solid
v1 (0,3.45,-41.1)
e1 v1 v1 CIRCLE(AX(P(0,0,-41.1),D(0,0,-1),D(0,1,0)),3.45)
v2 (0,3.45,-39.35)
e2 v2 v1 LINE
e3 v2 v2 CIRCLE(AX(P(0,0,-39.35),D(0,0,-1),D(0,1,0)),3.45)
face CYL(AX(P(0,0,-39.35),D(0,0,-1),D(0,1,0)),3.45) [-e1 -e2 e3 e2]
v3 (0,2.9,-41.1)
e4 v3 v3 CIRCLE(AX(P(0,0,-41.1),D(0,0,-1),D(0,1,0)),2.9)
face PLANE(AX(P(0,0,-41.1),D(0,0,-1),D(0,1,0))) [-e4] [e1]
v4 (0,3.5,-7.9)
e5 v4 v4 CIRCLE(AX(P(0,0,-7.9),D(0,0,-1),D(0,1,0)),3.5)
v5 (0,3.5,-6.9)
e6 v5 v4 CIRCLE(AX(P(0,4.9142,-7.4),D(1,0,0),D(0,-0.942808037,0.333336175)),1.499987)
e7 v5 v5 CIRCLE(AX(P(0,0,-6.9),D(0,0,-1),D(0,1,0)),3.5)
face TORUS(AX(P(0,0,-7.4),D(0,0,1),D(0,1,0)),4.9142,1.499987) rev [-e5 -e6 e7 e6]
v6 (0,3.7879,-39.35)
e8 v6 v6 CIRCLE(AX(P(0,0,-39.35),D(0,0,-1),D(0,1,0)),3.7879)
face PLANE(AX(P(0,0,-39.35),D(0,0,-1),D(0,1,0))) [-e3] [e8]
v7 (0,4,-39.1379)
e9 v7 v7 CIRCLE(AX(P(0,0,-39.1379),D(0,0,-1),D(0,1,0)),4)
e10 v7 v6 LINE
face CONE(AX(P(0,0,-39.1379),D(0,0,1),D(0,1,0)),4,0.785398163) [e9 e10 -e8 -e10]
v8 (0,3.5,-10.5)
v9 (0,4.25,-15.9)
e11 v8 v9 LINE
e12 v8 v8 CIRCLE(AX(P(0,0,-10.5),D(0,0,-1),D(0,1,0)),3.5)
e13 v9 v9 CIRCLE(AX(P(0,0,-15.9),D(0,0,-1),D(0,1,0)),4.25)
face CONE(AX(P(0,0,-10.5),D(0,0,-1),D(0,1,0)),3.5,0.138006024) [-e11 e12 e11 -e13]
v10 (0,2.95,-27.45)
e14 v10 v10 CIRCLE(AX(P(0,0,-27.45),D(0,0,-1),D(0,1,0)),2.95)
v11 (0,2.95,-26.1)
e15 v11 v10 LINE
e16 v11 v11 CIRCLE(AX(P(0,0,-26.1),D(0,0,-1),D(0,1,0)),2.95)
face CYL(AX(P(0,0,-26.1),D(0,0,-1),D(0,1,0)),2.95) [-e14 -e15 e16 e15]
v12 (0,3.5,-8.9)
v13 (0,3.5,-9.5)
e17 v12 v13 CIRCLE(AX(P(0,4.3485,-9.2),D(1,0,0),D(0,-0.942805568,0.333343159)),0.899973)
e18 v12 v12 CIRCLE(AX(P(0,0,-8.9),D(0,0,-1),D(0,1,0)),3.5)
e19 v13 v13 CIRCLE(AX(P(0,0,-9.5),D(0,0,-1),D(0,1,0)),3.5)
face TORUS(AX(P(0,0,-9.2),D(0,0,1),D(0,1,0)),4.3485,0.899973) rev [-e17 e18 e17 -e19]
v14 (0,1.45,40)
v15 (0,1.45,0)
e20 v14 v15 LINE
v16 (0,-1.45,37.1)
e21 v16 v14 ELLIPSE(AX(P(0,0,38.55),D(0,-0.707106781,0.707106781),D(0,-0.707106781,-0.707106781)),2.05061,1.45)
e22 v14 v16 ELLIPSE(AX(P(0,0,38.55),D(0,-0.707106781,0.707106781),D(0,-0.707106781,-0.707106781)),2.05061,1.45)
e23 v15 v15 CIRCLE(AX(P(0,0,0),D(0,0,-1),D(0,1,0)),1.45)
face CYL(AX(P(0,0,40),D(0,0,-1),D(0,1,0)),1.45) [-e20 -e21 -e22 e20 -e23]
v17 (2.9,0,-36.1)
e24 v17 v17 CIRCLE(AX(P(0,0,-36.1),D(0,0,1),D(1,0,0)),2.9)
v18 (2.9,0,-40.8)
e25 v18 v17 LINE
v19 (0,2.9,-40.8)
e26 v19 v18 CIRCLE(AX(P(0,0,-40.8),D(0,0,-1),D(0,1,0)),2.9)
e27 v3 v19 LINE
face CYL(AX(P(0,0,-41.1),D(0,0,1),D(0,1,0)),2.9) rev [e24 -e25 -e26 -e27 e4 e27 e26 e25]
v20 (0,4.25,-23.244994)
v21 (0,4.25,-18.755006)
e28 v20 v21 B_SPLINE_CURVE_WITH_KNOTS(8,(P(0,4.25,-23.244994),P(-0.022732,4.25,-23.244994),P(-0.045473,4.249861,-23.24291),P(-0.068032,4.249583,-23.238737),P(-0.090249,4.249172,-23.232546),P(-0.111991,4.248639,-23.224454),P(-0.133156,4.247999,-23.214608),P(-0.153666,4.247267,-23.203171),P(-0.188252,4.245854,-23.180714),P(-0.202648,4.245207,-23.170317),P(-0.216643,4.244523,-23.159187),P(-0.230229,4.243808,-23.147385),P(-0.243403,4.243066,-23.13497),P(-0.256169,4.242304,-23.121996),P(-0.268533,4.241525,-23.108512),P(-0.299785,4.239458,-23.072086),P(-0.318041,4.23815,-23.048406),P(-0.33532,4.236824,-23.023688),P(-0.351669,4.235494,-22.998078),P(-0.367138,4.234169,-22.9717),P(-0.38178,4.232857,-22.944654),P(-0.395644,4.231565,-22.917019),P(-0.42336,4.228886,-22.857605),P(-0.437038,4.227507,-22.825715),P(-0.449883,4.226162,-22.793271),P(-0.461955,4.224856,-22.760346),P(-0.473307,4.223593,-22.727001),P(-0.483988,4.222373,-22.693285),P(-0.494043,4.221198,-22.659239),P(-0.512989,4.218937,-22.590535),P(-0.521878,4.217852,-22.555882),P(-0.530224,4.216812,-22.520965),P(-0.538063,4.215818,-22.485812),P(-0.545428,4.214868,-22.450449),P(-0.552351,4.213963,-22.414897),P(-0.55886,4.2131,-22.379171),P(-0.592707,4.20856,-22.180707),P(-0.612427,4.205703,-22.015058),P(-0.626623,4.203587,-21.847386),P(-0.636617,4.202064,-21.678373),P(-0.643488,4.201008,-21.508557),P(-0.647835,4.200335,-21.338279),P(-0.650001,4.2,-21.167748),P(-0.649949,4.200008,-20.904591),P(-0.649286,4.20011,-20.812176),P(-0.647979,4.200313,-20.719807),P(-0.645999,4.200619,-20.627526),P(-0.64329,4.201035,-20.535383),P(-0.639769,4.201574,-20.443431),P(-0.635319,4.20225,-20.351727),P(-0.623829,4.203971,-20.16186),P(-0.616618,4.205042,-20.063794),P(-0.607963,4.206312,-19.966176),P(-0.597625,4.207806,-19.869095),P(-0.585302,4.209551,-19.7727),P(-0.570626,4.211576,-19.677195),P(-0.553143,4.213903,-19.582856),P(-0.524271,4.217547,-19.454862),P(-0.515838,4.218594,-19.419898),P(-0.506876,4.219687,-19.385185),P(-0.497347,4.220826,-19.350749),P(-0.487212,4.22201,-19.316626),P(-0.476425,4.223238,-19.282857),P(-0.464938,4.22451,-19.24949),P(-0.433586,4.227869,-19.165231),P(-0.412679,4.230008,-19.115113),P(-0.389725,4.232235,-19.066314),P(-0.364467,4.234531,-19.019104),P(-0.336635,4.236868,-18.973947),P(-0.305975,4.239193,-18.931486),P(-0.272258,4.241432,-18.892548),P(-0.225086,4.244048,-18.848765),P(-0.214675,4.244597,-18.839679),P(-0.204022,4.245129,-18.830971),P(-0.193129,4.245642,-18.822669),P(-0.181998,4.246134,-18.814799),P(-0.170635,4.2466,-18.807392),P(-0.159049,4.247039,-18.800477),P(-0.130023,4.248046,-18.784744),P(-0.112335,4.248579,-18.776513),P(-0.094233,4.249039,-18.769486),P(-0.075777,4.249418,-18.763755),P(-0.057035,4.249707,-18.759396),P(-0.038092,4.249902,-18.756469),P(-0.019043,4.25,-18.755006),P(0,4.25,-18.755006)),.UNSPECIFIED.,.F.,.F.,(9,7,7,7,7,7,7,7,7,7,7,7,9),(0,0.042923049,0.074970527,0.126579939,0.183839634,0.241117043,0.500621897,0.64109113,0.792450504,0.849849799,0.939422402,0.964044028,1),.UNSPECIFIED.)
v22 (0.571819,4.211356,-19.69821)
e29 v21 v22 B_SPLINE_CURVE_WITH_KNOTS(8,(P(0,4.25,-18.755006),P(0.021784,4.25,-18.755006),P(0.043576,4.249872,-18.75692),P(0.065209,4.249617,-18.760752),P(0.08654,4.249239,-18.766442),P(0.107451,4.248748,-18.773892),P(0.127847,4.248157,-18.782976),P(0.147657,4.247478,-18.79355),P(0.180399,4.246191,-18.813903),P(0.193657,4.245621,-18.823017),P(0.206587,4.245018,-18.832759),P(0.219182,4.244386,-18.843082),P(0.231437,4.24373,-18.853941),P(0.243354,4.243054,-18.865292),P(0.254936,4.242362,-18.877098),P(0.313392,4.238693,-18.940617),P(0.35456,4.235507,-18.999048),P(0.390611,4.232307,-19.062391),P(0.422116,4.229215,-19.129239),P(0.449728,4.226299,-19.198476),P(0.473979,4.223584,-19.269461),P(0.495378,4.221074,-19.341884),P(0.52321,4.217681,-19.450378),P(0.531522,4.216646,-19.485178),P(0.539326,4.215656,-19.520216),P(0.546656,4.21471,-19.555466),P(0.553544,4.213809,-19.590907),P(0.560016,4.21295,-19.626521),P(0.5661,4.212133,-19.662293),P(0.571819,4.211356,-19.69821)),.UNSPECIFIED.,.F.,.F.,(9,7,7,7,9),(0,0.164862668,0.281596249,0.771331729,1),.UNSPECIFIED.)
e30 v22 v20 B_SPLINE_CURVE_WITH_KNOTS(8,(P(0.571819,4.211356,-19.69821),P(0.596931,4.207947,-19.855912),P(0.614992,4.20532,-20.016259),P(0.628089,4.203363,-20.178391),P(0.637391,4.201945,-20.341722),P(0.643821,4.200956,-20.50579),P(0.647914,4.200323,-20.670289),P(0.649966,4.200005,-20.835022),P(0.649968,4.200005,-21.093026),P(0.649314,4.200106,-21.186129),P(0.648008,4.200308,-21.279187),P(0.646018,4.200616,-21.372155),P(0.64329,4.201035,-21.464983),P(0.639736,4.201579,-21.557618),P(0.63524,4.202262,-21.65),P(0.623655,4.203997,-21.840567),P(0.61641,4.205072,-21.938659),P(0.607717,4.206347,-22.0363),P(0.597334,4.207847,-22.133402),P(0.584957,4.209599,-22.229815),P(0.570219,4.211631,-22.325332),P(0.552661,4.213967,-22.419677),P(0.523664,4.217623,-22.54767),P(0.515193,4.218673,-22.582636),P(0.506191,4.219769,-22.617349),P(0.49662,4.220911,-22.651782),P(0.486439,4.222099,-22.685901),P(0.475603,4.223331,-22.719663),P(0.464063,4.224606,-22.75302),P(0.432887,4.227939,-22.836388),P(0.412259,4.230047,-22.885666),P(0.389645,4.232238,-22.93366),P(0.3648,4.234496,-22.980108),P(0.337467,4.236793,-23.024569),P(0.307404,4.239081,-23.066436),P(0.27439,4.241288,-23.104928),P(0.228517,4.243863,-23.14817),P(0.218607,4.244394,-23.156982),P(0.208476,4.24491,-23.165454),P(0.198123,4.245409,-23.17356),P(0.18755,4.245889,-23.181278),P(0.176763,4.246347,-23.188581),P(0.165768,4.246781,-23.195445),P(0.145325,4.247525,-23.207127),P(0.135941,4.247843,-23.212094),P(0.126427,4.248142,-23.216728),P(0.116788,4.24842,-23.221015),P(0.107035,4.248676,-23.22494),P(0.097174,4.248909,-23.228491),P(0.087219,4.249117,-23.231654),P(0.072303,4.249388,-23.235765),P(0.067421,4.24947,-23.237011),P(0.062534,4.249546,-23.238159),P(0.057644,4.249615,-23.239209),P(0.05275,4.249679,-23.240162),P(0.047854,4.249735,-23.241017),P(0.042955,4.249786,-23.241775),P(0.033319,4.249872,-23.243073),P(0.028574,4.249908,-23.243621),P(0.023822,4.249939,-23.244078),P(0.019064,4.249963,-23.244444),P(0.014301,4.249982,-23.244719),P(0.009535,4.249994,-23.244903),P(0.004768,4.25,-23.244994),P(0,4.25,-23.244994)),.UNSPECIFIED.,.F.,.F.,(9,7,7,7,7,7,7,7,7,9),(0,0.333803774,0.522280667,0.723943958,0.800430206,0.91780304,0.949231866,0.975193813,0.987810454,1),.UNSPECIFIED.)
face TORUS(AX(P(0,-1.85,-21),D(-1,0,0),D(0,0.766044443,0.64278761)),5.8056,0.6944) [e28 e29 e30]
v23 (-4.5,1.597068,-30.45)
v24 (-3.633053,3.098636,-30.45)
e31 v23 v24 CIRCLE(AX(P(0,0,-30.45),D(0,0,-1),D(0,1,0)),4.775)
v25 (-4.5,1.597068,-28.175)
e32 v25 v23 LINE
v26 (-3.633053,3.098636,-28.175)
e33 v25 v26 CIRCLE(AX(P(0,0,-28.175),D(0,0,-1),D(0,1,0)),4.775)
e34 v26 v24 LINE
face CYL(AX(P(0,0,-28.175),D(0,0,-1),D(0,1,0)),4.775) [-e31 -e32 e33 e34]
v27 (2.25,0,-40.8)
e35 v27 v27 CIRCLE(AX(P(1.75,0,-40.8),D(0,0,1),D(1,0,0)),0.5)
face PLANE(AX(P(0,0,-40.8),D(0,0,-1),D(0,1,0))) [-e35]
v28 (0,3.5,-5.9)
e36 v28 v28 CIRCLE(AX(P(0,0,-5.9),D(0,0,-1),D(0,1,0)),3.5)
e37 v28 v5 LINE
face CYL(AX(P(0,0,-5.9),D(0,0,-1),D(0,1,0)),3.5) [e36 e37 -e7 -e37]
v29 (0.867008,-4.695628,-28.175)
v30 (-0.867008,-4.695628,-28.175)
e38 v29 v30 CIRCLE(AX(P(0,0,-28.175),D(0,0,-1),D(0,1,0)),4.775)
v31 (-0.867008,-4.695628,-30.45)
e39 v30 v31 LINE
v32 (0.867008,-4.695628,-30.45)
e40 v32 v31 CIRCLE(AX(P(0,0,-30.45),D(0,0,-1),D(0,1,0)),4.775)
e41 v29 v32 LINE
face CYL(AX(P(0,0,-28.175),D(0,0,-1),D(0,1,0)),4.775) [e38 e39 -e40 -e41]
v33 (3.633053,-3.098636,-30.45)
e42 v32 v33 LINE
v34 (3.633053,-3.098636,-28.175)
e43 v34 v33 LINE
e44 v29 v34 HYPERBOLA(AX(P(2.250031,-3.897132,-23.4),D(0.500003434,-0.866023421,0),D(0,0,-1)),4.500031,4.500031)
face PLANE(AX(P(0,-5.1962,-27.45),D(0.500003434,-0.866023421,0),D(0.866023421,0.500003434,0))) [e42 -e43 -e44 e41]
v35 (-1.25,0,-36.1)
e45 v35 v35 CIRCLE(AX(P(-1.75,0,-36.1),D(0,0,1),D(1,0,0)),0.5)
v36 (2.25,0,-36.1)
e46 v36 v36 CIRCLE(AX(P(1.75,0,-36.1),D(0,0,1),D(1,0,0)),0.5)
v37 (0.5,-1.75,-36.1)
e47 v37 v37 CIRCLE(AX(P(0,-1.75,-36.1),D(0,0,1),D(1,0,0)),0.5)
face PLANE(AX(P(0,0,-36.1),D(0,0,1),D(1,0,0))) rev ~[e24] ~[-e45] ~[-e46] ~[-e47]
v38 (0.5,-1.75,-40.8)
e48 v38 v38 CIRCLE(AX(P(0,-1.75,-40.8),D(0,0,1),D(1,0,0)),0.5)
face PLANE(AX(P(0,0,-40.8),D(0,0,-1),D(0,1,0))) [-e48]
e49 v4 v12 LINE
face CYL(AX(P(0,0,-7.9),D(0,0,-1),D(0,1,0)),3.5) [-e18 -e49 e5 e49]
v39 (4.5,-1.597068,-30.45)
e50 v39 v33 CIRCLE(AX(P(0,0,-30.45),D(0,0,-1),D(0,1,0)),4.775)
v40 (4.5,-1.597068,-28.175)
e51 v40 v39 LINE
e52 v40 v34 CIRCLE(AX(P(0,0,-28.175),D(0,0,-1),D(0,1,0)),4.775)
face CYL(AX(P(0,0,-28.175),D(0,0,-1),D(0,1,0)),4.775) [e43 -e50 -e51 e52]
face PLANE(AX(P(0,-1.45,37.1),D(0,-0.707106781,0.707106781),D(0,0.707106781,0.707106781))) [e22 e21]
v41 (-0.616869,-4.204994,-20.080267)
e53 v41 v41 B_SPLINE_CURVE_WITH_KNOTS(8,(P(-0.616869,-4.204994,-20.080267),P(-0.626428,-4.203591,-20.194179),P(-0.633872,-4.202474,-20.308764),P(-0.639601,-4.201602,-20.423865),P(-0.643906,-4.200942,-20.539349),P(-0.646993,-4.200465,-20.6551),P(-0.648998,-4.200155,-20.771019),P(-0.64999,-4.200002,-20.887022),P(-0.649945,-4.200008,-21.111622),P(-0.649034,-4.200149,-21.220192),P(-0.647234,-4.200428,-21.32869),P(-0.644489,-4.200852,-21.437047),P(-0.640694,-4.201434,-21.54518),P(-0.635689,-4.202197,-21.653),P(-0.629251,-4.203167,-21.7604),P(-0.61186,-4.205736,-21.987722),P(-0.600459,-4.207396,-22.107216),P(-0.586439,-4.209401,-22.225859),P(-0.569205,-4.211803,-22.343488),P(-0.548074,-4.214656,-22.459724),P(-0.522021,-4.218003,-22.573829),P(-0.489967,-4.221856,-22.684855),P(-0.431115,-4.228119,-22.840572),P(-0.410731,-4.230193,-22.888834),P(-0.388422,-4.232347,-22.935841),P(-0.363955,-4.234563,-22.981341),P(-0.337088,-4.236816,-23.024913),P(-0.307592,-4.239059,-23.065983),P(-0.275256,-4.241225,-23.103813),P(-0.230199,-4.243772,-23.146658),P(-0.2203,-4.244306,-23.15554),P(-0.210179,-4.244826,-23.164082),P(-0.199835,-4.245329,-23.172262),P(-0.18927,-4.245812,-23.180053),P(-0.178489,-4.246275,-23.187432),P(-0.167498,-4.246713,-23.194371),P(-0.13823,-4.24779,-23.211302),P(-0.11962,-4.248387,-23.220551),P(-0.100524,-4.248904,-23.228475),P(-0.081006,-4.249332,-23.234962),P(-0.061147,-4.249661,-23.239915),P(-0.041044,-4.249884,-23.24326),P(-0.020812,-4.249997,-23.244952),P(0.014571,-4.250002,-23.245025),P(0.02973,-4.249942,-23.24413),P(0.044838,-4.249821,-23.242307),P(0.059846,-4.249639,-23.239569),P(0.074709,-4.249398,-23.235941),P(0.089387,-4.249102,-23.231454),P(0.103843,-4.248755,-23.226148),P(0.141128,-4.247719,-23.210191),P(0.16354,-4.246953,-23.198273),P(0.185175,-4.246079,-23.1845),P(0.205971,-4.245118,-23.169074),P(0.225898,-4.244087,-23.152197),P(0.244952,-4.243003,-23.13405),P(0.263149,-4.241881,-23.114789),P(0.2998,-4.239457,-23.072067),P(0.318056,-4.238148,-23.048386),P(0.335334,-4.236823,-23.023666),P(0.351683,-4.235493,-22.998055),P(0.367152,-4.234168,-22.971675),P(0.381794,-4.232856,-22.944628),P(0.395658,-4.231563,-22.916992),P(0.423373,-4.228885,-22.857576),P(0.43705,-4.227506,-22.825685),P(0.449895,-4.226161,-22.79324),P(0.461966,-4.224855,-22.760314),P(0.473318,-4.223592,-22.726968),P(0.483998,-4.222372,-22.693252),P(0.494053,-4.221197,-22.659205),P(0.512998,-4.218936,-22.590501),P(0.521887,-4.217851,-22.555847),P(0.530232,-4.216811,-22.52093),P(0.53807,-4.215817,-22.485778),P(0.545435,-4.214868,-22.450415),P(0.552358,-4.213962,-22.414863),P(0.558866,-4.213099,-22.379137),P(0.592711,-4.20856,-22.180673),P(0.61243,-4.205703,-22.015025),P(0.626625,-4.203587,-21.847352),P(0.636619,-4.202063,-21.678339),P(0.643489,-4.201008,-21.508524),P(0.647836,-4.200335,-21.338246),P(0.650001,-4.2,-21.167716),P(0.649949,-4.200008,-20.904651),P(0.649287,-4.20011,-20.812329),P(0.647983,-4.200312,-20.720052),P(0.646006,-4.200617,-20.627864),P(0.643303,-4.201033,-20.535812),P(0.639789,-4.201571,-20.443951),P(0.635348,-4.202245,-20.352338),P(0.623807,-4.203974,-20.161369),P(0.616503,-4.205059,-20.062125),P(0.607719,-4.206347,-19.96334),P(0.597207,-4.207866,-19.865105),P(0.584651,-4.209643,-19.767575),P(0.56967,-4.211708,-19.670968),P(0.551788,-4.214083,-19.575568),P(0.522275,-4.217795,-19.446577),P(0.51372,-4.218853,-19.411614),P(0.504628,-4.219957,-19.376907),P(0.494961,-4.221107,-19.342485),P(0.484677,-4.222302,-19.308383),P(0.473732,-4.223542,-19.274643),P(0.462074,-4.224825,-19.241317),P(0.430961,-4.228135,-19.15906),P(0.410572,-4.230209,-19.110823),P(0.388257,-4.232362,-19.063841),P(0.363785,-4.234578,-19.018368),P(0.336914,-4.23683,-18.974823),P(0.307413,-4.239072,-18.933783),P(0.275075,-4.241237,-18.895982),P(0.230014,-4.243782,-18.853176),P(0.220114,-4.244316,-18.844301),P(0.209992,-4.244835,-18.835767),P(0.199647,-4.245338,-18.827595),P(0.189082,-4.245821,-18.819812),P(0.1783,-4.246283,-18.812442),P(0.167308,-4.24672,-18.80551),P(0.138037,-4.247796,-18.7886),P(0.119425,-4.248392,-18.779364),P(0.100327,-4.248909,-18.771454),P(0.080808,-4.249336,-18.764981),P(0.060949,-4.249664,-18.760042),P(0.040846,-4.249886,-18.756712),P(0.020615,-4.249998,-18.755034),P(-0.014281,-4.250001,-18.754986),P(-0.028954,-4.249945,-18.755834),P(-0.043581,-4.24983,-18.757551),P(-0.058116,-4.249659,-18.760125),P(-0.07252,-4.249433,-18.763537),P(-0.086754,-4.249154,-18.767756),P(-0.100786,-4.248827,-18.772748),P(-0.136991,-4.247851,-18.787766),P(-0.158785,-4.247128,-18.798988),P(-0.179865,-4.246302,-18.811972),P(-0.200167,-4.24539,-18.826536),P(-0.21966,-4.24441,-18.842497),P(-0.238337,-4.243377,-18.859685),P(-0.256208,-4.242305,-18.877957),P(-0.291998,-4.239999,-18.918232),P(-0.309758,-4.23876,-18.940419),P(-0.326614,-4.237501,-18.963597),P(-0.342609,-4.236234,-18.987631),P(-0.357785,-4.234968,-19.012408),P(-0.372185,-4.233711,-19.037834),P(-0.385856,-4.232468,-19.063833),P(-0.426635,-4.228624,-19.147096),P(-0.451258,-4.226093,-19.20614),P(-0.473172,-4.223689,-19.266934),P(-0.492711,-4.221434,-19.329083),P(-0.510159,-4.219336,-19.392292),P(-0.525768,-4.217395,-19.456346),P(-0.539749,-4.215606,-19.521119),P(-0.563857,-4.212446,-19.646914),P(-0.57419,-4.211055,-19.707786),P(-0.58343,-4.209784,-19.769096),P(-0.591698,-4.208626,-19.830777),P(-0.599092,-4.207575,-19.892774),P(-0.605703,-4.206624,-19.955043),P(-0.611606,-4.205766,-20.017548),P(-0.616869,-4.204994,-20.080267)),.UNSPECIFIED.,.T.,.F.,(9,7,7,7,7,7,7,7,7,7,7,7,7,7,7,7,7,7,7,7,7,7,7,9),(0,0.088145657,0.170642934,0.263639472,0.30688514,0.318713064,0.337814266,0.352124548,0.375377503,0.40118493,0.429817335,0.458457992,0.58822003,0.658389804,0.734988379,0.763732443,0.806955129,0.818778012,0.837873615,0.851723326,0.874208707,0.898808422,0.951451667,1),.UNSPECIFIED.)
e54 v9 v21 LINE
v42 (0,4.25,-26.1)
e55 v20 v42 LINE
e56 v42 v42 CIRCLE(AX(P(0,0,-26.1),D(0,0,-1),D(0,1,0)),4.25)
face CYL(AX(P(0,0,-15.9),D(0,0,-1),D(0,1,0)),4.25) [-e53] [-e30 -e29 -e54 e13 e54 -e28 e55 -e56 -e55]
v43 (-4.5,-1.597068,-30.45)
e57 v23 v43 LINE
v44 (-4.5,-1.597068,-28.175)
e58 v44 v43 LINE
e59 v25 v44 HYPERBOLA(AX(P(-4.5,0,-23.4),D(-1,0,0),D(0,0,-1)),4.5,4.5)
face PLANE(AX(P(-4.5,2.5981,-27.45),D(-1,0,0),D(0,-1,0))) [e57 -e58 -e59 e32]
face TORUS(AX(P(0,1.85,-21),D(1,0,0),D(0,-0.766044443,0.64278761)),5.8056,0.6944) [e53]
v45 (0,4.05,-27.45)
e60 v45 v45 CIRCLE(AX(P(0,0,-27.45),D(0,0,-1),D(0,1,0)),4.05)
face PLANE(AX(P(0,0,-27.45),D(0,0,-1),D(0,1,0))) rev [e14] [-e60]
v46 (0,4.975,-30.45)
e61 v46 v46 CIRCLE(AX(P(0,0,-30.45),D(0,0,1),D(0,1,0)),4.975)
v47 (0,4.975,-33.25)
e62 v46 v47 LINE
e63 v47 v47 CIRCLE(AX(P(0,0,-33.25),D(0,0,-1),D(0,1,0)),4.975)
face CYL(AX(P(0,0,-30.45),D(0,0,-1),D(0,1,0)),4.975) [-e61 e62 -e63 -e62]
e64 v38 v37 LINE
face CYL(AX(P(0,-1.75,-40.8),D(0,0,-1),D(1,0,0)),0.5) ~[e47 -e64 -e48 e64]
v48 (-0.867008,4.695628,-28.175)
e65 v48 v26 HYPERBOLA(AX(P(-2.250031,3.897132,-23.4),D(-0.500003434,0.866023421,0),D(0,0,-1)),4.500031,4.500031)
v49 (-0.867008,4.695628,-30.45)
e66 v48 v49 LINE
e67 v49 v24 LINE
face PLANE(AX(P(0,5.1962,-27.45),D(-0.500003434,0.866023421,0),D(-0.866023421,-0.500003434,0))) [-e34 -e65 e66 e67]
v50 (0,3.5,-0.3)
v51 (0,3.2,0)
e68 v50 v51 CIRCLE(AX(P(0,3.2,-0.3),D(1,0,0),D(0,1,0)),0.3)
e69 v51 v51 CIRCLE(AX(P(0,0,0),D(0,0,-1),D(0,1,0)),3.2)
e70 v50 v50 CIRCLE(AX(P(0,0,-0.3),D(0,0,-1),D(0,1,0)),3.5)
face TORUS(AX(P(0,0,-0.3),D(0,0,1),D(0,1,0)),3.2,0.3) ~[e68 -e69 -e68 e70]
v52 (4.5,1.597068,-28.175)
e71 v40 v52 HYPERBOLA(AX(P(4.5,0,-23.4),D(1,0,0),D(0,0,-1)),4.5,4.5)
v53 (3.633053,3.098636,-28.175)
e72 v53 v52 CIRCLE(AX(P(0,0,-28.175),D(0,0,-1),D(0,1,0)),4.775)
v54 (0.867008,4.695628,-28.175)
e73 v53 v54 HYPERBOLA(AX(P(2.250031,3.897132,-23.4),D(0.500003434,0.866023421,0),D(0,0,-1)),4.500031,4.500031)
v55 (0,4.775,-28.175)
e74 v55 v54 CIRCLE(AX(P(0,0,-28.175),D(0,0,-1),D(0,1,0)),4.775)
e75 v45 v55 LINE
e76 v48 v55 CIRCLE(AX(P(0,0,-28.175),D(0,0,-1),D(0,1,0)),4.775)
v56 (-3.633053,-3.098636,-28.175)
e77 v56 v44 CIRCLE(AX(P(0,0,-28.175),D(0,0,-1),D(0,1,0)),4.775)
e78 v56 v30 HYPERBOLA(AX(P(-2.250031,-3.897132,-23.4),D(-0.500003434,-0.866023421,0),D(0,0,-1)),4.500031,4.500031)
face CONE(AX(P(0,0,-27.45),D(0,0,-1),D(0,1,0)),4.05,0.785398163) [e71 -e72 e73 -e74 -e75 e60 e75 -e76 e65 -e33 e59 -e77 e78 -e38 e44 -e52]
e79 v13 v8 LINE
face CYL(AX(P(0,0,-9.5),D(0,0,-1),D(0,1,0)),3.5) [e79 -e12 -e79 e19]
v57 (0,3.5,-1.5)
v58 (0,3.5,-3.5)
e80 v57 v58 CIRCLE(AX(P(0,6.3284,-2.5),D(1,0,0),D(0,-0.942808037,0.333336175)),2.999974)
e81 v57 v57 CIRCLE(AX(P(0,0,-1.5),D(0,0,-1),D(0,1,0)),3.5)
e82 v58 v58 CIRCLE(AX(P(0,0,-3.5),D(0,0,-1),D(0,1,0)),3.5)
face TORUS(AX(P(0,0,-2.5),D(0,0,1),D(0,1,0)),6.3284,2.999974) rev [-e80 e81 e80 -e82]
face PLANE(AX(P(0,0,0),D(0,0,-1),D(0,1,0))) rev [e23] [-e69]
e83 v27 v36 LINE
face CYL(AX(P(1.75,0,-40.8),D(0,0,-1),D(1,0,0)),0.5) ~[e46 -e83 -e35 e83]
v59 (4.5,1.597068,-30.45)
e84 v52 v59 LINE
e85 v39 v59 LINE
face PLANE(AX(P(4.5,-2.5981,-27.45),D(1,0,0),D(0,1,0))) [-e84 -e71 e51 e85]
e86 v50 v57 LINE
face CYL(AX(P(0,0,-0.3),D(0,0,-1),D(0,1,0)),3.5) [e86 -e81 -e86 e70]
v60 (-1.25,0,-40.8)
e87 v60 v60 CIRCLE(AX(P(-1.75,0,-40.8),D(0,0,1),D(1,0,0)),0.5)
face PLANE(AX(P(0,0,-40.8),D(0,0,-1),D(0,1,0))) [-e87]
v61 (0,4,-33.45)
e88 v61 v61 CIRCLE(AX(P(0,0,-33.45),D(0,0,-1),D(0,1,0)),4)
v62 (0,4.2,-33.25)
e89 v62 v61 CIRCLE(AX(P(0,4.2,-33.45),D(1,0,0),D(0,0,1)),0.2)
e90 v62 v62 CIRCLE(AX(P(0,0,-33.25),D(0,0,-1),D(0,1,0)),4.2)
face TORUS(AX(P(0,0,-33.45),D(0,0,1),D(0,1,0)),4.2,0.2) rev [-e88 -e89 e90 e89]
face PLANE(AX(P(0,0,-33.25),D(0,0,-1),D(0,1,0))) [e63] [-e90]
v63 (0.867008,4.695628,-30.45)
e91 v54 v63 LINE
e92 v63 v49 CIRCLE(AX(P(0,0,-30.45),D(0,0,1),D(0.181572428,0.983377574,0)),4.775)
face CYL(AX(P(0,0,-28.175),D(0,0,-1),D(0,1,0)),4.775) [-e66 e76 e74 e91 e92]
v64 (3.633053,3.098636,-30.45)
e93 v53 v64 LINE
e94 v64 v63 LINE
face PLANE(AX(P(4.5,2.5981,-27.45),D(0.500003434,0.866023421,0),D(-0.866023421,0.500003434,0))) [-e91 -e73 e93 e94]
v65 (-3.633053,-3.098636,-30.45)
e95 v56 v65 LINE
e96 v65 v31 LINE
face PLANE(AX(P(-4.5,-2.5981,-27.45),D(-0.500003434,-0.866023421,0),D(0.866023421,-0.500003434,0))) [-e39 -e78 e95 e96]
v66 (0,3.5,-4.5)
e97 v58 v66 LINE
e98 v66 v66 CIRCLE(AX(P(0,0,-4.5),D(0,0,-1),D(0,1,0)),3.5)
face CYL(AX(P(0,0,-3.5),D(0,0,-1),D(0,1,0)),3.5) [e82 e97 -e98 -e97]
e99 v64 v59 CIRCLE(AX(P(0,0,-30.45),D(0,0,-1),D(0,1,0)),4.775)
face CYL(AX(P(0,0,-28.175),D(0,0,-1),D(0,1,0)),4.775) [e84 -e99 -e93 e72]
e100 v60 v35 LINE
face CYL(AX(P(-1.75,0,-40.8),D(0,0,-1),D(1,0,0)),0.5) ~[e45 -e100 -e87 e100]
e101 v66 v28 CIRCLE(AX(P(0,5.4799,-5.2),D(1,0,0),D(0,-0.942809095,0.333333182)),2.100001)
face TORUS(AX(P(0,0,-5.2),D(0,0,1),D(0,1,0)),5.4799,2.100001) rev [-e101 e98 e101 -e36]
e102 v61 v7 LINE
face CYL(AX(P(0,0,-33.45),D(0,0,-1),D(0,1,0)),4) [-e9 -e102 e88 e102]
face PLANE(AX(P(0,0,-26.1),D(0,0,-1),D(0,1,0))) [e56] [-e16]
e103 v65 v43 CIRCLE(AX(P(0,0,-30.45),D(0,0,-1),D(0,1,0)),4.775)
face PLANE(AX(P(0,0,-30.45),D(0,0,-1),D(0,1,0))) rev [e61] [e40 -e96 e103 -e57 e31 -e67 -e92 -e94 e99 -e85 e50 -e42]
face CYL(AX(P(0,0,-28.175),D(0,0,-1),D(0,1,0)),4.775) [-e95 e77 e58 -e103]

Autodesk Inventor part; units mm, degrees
sketch "Sketch_14" plane through (0, 0, 0) normal (1, 0, 0) x (0, 1, 0)
  line L0 (0, -26.1) -> (0, 0)
  line L1 (0, 0) -> (3.2, 0)
  arc A0 (3.5, -0.3) -> (3.2, 0) centre (3.2, -0.3) ccw
  line L2 (3.5, -0.3) -> (3.5, -1.5)
  arc A1 (3.5, -1.5) -> (3.5, -3.5) centre (6.3284, -2.5) ccw
  line L3 (3.5, -3.5) -> (3.5, -4.5)
  arc A2 (3.5, -4.5) -> (3.5, -5.9) centre (5.4799, -5.2) ccw
  line L4 (3.5, -5.9) -> (3.5, -6.9)
  arc A3 (3.5, -6.9) -> (3.5, -7.9) centre (4.9142, -7.4) ccw
  line L5 (3.5, -7.9) -> (3.5, -8.9)
  arc A4 (3.5, -8.9) -> (3.5, -9.5) centre (4.3485, -9.2) ccw
  line L6 (3.5, -9.5) -> (3.5, -10.5)
  line L7 (3.5, -10.5) -> (4.25, -15.9)
  line L8 (4.25, -15.9) -> (4.25, -26.1)
  line L9 (4.25, -26.1) -> (0, -26.1)
  line L10 (0, -26.1) -> (0, 0)
revolve "Revolution1" add sketch "Sketch_14" angle 360 about axis through (0, 0, -26.1) along (0, 0, -1)
sketch "Sketch_13" plane through (0, 0, -21) normal (0, 0, 1) x (1, 0, 0)
  line L0 (5, -1.85) -> (-5, -1.85)
  circle A0 centre (0, 3.9556) radius 0.6944
revolve "Revolution2" add sketch "Sketch_13" angle 80 mid plane about axis through (5, -1.85, -21) along (-1, 0, 0)
sketch "Sketch_15" plane through (0, 0, -21) normal (0, 0, 1) x (1, 0, 0)
  line L0 (-5, 1.85) -> (5, 1.85)
  circle A0 centre (0, -3.9556) radius 0.6944
revolve "Revolution3" add sketch "Sketch_15" angle 80 mid plane about axis through (-5, 1.85, -21) along (1, 0, 0)
sketch "Sketch_7" plane through (0, 0, 0) normal (1, 0, 0) x (0, 1, 0)
  line L0 (0, -41.1) -> (0, -26.1)
  line L1 (0, -26.1) -> (2.95, -26.1)
  line L2 (2.95, -26.1) -> (2.95, -28.6)
  line L3 (2.95, -28.6) -> (3.15, -28.6)
  line L4 (3.15, -28.6) -> (3.15, -39.35)
  line L5 (3.15, -39.35) -> (3.45, -39.35)
  line L6 (3.45, -39.35) -> (3.45, -41.1)
  line L7 (3.45, -41.1) -> (2.9, -41.1)
  line L8 (2.9, -41.1) -> (2.9, -40.8)
  line L9 (2.9, -40.8) -> (0, -40.8)
  line L10 (0, -40.8) -> (0, -26.1)
revolve "Revolution4" add sketch "Sketch_7" angle 360 about axis through (0, 0, -41.1) along (0, 0, -1)
sketch "Sketch_8" plane through (0, 0, 0) normal (1, 0, 0) x (0, 1, 0)
  line L0 (0, -39.35) -> (0, -27.45)
  line L1 (0, -27.45) -> (4.05, -27.45)
  line L2 (4.05, -27.45) -> (4.775, -28.175)
  line L3 (4.775, -28.175) -> (4.775, -30.45)
  line L4 (4.775, -30.45) -> (4.975, -30.45)
  line L5 (4.975, -30.45) -> (4.975, -33.25)
  line L6 (4.975, -33.25) -> (4.2, -33.25)
  arc A0 (4.2, -33.25) -> (4, -33.45) centre (4.2, -33.45) ccw
  line L7 (4, -33.45) -> (4, -39.1379)
  line L8 (4, -39.1379) -> (3.7879, -39.35)
  line L9 (3.7879, -39.35) -> (0, -39.35)
  line L10 (0, -39.35) -> (0, -27.45)
revolve "Revolution5" add sketch "Sketch_8" angle 360 about axis through (0, 0, -39.35) along (0, 0, -1)
thread "Thread1" size "M8x1" class "6g" standard "ISO Metric profile" length 4.2879
sketch "Sketch_10" plane through (0, 0, -27.45) normal (0, 0, 1) x (1, 0, 0)
  line L0 (-8, -8) -> (8, -8)
  line L1 (8, -8) -> (8, 8)
  line L2 (8, 8) -> (-8, 8)
  line L3 (-8, 8) -> (-8, -8)
  line L4 (-4.5, -2.5981) -> (0, -5.1962)
  line L5 (0, -5.1962) -> (4.5, -2.5981)
  line L6 (4.5, -2.5981) -> (4.5, 2.5981)
  line L7 (4.5, 2.5981) -> (0, 5.1962)
  line L8 (0, 5.1962) -> (-4.5, 2.5981)
  line L9 (-4.5, 2.5981) -> (-4.5, -2.5981)
extrude "Extrusion1" cut sketch "Sketch_10" against normal blind 3
sketch "Sketch_9" plane through (0, 0, -40.8) normal (0, 0, 1) x (1, 0, 0)
  circle A0 centre (0, 0) radius 2.9
  circle A1 centre (1.75, 0) radius 0.5
  circle A2 centre (0, -1.75) radius 0.5
  circle A3 centre (-1.75, 0) radius 0.5
extrude "Extrusion2" cut sketch "Sketch_9" along normal blind 4.7
sketch "Sketch_3" plane through (0, 0, 0) normal (1, 0, 0) x (0, 1, 0)
  line L0 (0, 0) -> (0, 40)
  line L1 (0, 40) -> (1.45, 40)
  line L2 (1.45, 40) -> (1.45, 0)
  line L3 (1.45, 0) -> (0, 0)
  line L4 (0, 0) -> (0, 40)
revolve "Revolution6" add sketch "Sketch_3" angle 360 about axis through (0, 0, 0) along (0, 0, -1)
sketch "Sketch_4" plane through (0, 0, 0) normal (1, 0, 0) x (0, 1, 0)
  line L0 (1.45, 40) -> (-1.45, 40)
  line L1 (-1.45, 40) -> (-1.45, 37.1)
  line L2 (-1.45, 37.1) -> (1.45, 40)
extrude "Extrusion3" cut sketch "Sketch_4" along normal mid plane 12
ref_plane "ANBAU_XY" through (0, 0, 40) normal (0, 0, 1) x (1, 0, 0)
ref_plane "ANBAU_YZ" through (0, 0, 40) normal (1, 0, 0) x (0, 1, 0)
ref_plane "ANBAU_ZX" through (0, 0, 40) normal (0, 1, 0) x (0, 0, 1)
ref_plane "ASCF1_XY" through (0, 0, 7) normal (0, 0, 1) x (1, 0, 0)
ref_plane "ASCF1_YZ" through (0, 0, 7) normal (1, 0, 0) x (0, 1, 0)
ref_plane "ASCF1_ZX" through (0, 0, 7) normal (0, 1, 0) x (0, 0, 1)
ref_plane "CONN_XY" through (0, 0, 0) normal (0, 0, -1) x (1, 0, 0)
ref_plane "CONN_YZ" through (0, 0, 0) normal (1, 0, 0) x (0, -1, 0)
ref_plane "CONN_ZX" through (0, 0, 0) normal (0, -1, 0) x (0, 0, -1)
ref_plane "FDT_CONCAB_XY" through (0, 0, -36.1) normal (0, 0, -1) x (0, -1, 0)
ref_plane "FDT_CONCAB_YZ" through (0, 0, -36.1) normal (0, -1, 0) x (-1, 0, 0)
ref_plane "FDT_CONCAB_ZX" through (0, 0, -36.1) normal (-1, 0, 0) x (0, 0, -1)
properties part number "8082090 SDBT-M8---(stecker)"
